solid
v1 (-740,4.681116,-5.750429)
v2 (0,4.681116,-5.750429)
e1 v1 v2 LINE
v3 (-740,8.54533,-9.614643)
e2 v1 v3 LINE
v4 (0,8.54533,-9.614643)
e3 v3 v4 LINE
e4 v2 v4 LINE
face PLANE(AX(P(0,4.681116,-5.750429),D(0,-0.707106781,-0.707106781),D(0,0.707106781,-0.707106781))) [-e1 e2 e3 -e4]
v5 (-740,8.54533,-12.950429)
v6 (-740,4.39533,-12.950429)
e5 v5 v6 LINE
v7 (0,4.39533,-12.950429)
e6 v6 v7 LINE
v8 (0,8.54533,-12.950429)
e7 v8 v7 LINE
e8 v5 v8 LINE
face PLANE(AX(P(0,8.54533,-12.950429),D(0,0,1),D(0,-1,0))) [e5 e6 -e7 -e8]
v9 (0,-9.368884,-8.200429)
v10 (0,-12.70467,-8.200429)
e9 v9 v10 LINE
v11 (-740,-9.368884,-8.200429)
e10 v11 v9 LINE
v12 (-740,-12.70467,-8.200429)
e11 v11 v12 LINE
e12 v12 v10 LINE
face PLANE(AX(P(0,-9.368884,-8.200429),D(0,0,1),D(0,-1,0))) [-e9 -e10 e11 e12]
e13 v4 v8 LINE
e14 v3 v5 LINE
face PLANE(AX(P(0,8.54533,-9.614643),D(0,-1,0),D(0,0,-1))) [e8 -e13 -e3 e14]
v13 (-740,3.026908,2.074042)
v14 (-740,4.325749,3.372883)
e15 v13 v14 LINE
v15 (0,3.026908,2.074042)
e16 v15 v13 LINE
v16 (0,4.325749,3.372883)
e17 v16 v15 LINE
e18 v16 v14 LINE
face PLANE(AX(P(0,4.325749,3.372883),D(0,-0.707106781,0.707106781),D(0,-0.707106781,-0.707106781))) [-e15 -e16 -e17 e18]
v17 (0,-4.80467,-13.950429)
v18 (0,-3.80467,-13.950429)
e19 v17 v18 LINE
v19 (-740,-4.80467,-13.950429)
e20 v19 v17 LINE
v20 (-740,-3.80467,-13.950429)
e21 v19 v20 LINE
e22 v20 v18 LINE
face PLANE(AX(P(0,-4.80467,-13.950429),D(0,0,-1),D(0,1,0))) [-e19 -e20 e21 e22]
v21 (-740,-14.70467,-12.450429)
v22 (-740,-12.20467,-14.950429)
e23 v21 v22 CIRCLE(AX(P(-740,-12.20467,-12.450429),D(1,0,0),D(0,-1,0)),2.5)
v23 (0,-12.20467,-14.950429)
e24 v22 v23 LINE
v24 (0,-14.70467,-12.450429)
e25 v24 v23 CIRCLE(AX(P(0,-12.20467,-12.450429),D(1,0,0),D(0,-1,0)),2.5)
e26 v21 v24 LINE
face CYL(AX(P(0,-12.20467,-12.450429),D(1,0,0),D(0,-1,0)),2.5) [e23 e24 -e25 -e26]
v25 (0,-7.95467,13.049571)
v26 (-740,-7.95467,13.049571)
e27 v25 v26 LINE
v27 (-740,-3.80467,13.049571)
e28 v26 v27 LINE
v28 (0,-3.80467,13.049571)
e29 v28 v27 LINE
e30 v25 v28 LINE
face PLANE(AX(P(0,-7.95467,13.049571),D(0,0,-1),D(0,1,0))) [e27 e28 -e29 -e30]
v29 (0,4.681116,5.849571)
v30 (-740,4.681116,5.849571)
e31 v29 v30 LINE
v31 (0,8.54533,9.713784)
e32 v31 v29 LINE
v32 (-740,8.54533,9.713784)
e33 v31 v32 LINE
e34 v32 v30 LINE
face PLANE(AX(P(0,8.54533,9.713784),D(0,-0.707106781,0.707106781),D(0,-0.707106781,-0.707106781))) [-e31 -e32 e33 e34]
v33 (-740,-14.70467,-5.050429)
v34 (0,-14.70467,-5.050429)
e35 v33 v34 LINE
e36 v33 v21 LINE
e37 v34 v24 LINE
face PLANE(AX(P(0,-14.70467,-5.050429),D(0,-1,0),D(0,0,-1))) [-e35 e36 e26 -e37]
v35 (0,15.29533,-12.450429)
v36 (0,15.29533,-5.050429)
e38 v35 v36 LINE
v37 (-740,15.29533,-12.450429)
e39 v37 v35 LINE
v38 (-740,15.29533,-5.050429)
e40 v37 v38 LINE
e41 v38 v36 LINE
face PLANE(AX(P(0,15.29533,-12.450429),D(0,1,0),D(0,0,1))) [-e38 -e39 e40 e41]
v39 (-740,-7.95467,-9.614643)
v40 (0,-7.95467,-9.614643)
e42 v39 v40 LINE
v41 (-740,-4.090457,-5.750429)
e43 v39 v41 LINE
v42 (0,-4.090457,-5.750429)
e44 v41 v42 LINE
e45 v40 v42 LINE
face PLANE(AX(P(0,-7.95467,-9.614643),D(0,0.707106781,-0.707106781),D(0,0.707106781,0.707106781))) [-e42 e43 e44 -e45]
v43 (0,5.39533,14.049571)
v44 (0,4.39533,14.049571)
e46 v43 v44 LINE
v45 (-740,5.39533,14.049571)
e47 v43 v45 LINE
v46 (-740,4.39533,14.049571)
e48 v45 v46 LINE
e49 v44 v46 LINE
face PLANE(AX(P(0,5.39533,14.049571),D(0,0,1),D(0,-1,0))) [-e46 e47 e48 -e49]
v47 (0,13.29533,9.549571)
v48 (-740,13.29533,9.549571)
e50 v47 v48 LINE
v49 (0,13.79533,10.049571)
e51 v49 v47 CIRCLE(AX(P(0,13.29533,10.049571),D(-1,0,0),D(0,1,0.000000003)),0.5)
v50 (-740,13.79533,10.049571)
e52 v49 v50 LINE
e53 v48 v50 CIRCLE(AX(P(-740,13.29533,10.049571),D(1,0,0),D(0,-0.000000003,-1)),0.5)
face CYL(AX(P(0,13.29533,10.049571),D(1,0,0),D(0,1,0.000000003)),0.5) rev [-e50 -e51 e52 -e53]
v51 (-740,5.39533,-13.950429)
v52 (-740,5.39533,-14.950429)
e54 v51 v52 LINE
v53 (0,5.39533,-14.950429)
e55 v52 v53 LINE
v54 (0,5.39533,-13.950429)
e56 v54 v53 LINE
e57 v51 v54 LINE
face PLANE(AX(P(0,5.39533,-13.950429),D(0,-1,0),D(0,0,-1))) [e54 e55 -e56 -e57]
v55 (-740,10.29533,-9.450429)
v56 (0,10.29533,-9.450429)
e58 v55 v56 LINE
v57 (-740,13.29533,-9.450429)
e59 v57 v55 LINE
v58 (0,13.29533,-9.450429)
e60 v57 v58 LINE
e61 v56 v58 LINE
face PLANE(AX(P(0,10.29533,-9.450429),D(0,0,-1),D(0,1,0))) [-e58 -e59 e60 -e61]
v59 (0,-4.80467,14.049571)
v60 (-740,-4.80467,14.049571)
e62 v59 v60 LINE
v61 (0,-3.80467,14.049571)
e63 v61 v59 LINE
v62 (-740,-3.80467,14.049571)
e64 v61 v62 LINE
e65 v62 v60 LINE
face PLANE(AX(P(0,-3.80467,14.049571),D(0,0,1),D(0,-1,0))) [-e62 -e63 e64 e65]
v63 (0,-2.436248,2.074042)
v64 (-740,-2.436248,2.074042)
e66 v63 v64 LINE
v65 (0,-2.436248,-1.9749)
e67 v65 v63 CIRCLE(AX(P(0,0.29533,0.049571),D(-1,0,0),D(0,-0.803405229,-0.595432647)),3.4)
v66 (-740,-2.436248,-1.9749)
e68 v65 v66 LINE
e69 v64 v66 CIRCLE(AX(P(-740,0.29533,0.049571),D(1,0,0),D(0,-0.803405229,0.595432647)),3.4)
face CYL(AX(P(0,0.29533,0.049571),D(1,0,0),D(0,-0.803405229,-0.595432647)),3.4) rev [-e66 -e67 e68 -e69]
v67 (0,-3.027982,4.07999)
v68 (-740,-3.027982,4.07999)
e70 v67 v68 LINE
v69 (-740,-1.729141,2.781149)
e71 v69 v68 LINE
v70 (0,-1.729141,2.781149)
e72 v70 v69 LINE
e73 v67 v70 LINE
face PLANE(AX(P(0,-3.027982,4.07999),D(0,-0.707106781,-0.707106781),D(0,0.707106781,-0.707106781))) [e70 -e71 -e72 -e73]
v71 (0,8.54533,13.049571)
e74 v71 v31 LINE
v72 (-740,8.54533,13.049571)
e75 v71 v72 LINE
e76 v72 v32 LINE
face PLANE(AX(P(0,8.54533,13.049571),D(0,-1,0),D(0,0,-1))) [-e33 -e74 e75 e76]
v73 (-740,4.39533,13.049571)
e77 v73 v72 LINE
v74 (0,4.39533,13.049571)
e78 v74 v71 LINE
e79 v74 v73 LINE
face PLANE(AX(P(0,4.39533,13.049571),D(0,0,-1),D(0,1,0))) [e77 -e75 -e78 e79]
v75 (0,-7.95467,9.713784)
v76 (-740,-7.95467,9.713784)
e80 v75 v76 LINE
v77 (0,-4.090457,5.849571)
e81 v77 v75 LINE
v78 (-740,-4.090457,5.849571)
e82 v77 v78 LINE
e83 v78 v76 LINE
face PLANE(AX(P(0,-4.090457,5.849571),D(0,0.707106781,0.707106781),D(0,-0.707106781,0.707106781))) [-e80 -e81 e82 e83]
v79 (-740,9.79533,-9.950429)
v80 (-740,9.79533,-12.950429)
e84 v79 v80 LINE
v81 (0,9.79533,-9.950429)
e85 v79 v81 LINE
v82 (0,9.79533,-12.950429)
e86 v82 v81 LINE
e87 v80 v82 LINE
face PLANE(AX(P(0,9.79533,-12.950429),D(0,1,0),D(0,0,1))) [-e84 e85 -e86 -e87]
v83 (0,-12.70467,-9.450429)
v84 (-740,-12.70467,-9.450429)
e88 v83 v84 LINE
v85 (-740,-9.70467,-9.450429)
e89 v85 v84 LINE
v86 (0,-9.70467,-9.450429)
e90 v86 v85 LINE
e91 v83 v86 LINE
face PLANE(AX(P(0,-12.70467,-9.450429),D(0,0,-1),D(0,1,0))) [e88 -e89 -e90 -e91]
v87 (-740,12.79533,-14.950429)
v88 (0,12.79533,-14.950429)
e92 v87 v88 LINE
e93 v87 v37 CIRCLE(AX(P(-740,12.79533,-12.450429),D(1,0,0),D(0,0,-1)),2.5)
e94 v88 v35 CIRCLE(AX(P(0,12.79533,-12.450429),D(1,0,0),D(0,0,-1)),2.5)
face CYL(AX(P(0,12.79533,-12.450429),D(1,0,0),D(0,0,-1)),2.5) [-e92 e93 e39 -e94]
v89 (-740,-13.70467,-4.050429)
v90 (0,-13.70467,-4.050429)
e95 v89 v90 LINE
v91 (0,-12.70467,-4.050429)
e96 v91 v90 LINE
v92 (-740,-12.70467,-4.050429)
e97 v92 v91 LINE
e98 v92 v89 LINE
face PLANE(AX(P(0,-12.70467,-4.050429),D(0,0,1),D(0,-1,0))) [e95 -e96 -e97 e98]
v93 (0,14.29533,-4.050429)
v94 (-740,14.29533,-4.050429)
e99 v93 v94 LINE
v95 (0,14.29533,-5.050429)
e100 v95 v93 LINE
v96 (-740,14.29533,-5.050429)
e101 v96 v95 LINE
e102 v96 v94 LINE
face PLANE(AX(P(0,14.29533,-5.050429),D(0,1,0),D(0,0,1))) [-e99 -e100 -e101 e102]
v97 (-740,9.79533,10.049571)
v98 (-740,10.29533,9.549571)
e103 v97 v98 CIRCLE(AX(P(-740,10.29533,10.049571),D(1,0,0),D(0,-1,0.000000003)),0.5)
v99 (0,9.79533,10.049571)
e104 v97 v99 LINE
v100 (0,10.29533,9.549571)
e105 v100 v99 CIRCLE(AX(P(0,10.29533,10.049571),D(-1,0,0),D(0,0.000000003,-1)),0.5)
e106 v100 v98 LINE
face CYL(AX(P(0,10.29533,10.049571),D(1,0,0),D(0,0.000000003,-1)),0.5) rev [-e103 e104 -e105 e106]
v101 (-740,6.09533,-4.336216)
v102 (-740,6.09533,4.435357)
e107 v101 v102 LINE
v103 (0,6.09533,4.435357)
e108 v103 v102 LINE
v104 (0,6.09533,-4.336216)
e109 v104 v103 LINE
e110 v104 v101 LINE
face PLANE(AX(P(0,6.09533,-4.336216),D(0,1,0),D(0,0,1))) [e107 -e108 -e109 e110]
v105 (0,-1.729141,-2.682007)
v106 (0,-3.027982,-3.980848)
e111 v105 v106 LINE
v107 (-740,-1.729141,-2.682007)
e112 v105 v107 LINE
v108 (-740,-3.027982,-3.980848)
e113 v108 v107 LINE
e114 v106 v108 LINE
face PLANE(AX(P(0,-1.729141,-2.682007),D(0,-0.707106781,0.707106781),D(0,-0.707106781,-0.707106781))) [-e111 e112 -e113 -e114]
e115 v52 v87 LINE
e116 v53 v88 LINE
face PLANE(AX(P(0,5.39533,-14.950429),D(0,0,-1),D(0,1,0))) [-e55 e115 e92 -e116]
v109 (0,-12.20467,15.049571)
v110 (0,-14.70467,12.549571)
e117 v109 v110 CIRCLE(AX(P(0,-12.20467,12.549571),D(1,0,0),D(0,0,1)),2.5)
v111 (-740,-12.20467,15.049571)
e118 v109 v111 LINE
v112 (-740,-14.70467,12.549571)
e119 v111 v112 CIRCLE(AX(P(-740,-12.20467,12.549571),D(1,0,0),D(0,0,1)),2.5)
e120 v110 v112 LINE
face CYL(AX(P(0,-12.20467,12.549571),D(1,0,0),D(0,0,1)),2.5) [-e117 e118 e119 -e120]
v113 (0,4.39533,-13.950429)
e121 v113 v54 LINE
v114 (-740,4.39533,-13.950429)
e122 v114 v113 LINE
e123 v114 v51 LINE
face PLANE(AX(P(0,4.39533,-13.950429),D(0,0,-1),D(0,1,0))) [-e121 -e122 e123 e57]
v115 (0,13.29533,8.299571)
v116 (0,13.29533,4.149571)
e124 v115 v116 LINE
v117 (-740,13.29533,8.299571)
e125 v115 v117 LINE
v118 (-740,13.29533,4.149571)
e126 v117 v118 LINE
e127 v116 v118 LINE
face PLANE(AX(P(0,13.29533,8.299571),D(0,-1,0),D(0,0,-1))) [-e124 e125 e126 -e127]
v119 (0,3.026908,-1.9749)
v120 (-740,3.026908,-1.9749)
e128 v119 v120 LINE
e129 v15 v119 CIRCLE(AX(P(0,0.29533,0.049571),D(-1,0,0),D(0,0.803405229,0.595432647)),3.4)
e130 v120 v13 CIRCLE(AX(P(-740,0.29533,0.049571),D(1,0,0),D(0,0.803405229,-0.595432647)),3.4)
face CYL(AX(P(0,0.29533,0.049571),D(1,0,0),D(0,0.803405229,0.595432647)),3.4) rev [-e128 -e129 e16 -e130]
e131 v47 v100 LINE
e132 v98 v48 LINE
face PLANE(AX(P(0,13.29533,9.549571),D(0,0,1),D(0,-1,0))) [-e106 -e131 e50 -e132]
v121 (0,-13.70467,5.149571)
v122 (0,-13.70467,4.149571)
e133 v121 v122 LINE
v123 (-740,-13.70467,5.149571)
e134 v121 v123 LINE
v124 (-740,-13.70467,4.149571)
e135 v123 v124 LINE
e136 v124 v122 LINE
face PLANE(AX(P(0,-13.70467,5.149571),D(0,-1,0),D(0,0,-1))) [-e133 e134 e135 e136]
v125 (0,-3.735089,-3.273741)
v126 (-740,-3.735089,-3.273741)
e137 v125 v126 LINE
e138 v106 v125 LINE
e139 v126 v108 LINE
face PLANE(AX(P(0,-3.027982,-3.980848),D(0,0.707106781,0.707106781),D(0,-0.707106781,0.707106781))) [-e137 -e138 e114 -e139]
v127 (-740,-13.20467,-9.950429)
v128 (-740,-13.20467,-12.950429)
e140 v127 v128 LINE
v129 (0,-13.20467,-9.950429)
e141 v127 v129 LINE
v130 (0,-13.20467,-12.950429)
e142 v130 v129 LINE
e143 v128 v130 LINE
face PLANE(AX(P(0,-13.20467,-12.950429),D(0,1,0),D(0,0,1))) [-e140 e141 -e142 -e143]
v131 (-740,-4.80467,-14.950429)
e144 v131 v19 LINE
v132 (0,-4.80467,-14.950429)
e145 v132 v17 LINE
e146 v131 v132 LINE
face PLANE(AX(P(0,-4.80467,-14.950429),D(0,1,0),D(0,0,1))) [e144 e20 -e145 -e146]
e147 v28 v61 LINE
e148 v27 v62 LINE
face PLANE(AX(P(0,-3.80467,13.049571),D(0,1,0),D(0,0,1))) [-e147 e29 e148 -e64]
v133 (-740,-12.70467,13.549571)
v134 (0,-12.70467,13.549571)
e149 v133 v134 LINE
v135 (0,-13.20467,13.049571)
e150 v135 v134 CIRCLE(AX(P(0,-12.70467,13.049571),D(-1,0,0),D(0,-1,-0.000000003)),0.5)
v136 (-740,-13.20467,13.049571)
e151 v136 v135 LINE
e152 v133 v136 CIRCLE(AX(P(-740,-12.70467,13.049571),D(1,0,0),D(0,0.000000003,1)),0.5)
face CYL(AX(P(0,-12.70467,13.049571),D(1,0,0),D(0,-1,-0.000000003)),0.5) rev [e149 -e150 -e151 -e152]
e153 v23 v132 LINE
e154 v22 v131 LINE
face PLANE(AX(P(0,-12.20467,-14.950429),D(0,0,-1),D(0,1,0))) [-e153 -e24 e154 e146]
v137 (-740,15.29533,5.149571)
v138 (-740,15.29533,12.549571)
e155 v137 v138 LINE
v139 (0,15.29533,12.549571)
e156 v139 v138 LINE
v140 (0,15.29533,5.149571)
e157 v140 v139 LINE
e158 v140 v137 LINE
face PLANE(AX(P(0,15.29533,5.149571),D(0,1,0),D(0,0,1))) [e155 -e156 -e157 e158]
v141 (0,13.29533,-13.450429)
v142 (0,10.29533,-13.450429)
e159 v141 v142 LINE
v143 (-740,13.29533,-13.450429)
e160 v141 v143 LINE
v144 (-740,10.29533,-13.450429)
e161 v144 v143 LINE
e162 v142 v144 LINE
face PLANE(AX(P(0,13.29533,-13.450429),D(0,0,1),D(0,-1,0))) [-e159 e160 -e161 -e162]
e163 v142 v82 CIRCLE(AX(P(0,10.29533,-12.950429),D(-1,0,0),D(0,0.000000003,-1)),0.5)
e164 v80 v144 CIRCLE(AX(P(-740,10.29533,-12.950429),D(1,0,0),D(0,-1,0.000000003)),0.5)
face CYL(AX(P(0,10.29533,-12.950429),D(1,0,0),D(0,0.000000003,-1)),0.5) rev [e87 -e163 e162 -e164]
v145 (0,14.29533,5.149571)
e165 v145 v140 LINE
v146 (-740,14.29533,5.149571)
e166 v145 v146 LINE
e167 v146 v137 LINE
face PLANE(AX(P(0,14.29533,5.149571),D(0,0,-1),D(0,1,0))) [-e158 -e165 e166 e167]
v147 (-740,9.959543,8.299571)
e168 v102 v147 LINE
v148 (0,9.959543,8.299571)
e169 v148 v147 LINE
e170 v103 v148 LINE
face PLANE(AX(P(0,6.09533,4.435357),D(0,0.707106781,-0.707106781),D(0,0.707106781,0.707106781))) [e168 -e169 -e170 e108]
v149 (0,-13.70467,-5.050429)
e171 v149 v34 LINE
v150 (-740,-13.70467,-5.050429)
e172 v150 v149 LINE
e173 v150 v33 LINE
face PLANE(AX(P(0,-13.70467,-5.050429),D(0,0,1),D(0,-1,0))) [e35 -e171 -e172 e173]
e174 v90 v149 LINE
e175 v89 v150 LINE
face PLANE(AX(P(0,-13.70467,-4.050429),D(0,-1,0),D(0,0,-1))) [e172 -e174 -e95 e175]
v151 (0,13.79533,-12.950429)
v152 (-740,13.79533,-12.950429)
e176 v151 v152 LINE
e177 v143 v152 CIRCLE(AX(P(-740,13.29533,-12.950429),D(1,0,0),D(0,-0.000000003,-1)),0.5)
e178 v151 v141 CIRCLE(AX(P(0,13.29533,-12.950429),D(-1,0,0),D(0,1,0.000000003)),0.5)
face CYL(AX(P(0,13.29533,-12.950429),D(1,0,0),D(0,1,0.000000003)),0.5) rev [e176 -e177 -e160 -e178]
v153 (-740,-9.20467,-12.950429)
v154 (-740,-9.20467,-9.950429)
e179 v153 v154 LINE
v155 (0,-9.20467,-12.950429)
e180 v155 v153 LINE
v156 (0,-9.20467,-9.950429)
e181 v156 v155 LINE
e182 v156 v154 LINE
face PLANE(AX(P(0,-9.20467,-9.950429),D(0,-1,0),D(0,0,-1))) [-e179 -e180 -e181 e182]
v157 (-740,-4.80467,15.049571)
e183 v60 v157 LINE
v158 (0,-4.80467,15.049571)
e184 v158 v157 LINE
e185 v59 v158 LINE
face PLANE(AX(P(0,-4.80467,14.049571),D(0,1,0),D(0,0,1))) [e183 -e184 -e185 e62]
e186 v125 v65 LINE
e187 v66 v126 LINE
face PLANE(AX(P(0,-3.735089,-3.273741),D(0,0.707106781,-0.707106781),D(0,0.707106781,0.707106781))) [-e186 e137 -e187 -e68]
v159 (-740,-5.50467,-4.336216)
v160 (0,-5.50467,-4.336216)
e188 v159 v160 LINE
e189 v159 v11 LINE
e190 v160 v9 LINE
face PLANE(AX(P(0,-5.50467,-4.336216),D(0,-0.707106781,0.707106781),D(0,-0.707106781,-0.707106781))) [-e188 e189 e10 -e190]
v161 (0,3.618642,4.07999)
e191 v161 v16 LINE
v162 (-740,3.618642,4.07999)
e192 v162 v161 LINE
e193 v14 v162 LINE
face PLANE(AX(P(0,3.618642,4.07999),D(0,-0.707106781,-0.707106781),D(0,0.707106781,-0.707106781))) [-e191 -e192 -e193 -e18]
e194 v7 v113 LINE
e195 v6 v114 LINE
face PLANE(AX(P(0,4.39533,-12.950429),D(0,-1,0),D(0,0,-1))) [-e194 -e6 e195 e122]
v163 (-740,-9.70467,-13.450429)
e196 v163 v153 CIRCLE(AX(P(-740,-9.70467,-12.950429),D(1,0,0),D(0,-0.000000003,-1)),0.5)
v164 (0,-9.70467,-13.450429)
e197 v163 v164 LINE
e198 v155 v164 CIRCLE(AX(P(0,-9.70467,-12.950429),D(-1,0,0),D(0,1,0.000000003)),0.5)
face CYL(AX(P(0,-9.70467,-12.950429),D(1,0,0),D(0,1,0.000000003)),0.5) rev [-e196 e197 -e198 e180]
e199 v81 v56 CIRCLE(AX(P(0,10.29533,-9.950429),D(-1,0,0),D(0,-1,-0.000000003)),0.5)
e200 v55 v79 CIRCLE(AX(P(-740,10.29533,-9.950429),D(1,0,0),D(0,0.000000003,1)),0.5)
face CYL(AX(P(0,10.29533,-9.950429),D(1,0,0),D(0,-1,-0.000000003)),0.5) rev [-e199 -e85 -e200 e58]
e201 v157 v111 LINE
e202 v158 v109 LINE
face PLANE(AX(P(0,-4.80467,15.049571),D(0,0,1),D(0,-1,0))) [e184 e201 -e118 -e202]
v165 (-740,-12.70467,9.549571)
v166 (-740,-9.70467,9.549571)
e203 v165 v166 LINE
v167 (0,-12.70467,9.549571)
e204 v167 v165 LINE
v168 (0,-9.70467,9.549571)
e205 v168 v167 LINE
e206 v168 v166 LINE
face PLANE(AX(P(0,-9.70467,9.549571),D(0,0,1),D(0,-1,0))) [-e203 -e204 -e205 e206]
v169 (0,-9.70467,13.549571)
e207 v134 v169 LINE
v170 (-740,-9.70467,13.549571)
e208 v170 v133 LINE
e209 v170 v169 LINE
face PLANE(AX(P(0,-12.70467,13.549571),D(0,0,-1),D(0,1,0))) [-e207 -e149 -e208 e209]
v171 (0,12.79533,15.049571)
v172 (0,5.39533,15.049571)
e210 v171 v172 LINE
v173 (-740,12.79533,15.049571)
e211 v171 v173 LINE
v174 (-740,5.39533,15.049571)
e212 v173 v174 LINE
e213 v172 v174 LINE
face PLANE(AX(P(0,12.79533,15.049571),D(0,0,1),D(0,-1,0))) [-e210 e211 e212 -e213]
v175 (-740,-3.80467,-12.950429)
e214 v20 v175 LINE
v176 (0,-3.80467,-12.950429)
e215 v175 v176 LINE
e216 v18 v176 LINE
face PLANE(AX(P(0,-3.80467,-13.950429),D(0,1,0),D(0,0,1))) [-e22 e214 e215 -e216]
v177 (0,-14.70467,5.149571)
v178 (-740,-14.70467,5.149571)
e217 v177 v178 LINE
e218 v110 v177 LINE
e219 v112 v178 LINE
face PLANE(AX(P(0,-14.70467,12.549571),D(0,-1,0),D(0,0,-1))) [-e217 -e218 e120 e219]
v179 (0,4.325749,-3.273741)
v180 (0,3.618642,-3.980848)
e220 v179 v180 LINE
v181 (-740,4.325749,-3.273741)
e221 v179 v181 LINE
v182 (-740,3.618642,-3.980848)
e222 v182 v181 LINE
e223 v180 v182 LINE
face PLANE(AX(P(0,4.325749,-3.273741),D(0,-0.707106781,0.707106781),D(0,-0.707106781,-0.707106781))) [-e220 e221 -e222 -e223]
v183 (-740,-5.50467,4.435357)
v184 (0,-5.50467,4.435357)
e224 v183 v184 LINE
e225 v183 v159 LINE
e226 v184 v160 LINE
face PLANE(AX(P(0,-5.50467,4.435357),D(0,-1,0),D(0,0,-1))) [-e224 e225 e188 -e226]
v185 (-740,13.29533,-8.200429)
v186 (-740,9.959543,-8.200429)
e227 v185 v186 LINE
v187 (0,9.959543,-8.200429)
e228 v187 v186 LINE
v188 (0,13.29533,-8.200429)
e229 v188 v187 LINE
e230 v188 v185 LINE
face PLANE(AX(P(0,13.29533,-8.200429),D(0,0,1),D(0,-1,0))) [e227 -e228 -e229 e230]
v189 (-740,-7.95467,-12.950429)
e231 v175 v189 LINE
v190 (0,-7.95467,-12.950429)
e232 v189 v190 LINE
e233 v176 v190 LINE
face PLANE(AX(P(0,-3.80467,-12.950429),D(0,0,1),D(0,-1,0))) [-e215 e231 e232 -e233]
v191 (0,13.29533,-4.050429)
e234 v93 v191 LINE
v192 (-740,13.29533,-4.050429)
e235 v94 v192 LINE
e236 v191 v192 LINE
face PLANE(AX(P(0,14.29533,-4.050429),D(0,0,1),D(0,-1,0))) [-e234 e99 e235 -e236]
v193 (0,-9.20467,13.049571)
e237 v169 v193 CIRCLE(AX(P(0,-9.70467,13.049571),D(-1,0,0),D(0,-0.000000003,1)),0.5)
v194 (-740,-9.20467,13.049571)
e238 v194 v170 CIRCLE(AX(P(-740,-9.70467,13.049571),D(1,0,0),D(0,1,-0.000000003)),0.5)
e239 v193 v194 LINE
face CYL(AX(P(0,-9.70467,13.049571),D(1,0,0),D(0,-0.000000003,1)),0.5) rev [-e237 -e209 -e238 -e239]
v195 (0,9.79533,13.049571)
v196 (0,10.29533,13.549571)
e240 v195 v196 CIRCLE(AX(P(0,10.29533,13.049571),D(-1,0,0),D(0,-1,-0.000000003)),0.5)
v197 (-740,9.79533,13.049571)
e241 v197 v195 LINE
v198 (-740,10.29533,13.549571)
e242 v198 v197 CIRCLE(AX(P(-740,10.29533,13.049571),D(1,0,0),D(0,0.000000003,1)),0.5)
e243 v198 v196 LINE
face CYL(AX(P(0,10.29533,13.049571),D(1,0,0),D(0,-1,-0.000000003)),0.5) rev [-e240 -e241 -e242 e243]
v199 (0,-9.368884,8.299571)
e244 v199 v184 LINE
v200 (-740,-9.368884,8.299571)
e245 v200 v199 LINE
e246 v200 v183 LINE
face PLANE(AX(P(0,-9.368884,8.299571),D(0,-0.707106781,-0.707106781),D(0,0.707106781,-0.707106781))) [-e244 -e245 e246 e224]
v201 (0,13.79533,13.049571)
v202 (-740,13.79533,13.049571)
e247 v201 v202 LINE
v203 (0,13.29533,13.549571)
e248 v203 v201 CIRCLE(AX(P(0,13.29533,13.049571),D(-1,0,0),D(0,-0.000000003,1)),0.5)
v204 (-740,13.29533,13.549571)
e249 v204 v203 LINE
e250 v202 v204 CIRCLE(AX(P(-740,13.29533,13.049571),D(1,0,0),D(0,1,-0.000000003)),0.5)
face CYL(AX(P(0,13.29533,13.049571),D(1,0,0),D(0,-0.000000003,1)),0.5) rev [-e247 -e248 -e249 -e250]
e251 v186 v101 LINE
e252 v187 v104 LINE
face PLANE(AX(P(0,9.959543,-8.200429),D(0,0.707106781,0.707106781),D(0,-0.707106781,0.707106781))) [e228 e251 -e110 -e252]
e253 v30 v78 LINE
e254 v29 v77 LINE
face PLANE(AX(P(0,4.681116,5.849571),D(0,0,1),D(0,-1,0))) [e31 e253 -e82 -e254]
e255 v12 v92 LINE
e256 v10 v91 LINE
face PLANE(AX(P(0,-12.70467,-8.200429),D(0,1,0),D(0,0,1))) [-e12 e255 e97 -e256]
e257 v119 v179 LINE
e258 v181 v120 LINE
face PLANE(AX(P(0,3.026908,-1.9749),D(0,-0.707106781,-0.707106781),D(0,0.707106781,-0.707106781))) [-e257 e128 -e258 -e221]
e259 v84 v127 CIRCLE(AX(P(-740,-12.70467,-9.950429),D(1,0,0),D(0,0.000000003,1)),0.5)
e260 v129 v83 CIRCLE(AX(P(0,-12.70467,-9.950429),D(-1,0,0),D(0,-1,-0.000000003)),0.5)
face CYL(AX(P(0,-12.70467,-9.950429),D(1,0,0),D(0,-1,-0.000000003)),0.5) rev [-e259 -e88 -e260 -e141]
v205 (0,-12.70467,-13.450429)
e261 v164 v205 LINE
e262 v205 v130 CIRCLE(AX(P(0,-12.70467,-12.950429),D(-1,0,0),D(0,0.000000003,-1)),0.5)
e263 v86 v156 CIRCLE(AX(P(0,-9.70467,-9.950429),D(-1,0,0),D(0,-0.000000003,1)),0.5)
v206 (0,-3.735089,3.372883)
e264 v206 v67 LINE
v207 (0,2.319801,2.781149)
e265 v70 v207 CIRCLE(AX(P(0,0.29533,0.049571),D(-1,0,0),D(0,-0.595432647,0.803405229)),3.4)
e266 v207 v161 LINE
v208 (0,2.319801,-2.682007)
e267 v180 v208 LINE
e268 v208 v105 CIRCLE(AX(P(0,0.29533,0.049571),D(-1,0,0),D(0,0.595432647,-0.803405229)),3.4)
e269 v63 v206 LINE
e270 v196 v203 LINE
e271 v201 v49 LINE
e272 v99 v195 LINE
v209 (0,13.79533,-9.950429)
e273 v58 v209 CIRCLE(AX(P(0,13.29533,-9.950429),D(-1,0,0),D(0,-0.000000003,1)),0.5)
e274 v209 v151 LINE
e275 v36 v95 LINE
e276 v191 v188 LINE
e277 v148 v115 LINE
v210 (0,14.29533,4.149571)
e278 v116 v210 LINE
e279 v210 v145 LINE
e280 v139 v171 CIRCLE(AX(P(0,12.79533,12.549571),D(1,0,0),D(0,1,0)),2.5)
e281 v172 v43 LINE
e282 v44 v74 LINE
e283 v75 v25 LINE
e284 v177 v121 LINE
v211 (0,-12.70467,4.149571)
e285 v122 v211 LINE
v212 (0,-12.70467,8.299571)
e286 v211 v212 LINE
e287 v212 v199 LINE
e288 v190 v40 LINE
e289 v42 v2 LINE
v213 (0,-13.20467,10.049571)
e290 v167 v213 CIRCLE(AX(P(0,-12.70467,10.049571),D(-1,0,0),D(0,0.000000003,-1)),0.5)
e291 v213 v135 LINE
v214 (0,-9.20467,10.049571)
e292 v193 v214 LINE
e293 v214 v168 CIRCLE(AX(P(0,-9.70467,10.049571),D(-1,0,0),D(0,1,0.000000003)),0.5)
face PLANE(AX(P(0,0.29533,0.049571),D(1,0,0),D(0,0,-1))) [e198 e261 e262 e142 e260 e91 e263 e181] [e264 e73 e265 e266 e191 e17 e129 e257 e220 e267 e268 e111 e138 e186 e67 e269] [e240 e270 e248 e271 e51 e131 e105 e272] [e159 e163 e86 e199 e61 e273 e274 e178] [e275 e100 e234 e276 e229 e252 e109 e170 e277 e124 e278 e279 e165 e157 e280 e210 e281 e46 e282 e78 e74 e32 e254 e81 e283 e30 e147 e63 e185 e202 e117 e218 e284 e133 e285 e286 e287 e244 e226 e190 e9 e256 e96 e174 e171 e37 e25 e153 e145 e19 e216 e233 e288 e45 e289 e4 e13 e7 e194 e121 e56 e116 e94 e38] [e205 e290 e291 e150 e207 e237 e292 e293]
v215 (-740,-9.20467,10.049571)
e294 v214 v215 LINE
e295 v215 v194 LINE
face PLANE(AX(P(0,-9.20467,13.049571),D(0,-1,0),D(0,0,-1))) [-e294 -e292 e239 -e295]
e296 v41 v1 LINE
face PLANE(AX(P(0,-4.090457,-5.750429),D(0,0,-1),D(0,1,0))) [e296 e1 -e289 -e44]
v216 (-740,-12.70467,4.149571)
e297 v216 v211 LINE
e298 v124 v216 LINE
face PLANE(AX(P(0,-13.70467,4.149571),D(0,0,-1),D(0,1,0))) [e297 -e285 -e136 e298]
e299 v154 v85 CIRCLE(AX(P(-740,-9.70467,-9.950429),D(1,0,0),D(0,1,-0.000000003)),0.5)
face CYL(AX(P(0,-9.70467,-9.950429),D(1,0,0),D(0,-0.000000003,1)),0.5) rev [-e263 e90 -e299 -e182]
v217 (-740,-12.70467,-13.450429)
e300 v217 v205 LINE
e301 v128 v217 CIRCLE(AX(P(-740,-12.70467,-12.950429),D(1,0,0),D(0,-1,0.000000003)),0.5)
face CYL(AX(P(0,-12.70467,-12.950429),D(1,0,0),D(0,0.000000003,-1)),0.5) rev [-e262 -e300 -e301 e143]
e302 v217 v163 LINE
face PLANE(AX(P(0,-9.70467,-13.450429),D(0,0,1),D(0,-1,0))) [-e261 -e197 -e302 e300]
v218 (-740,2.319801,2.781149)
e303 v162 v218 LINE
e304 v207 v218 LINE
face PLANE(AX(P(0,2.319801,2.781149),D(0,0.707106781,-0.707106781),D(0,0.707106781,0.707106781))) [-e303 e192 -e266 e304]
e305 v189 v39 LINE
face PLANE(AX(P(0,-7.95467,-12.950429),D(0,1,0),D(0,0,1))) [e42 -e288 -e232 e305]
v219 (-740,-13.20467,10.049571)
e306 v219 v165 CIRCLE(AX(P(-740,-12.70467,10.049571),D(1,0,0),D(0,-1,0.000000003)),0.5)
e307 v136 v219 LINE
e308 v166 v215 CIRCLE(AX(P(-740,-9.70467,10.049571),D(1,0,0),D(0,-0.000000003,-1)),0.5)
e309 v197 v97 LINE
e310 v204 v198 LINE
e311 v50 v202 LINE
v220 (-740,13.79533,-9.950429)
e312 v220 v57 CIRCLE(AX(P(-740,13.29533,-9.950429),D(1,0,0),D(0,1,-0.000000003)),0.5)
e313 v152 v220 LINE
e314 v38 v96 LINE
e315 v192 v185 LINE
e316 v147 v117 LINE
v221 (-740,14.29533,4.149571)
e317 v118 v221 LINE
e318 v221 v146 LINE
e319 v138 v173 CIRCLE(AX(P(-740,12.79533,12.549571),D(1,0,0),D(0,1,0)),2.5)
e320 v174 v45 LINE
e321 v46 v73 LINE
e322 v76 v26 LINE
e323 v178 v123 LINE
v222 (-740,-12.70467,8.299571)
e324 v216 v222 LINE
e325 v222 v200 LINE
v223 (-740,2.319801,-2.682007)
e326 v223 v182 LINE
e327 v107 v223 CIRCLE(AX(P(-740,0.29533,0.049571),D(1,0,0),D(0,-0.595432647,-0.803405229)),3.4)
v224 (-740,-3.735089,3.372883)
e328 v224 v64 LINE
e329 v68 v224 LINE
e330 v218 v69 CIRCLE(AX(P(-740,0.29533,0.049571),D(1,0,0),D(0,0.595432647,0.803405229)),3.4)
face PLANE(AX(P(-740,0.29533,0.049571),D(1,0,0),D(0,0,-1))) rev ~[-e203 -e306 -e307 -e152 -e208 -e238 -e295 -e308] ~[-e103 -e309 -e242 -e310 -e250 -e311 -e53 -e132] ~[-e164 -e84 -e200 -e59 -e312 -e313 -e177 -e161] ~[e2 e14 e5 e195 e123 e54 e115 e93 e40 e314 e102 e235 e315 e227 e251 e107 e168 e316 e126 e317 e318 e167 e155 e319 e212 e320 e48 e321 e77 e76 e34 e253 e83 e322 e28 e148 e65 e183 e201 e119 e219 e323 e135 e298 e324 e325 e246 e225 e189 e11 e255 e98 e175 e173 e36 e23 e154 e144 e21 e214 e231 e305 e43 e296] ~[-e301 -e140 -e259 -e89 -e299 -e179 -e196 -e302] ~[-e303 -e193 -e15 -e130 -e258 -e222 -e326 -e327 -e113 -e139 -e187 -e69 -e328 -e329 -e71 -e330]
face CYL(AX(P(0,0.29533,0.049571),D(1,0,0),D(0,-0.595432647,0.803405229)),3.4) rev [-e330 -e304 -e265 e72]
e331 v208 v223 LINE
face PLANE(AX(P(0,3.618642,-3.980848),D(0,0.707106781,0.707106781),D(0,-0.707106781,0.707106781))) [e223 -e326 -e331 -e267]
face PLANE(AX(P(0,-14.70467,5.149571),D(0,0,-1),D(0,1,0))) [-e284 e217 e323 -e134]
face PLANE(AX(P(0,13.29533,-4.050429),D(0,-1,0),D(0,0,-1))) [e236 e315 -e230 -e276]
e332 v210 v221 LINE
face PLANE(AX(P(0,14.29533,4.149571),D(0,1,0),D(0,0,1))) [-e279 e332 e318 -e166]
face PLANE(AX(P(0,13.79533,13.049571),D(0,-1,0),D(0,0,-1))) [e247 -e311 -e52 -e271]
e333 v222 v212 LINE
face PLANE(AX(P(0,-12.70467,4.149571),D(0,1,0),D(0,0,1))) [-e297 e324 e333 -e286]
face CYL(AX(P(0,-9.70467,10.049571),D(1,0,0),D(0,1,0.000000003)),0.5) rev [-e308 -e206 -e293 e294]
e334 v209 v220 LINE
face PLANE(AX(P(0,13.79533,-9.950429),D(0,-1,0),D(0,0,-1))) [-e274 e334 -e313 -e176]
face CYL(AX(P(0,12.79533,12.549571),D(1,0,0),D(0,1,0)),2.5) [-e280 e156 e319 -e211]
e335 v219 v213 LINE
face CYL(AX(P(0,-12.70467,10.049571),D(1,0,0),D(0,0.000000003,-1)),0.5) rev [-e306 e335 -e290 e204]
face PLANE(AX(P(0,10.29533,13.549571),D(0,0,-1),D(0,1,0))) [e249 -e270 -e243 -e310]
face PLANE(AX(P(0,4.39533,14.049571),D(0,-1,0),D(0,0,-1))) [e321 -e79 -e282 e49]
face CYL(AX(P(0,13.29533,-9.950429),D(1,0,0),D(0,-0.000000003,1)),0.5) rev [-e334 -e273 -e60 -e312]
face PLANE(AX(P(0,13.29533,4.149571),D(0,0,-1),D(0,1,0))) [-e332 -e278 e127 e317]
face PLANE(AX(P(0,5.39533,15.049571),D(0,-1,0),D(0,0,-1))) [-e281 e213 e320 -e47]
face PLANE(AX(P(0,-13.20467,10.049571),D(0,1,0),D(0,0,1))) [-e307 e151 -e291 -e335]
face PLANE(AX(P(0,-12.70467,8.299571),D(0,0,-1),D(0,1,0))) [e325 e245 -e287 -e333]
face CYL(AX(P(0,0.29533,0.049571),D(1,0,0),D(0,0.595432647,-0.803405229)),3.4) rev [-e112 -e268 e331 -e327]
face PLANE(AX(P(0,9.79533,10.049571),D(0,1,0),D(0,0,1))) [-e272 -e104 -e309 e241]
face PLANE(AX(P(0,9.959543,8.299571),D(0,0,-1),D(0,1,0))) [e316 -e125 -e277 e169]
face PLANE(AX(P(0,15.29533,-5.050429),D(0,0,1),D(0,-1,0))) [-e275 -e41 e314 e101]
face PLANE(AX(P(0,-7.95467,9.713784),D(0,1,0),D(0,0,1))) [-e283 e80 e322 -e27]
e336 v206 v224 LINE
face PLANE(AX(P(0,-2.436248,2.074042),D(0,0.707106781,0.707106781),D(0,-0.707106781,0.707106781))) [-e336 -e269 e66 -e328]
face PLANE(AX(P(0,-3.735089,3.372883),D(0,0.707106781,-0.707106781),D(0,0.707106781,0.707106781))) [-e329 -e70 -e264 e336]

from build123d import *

# Parameters (mm, degrees)
EXTRUDE_1_DEPTH = 50
EXTRUDE_2_DEPTH = 740


with BuildPart() as part:
    # 草图1 → 凸台-拉伸1 (new body)
    with BuildSketch(Plane(origin=(0, 0, 0), x_dir=(0, 0, -1), z_dir=(1, 0, 0))):
        with BuildLine():
            Line((-5.14957074, -13.70467014), (-4.14957074, -13.70467014))
            Line((-4.14957074, -13.70467014), (-4.14957074, -12.70467014))
            Line((-4.14957074, -12.70467014), (-8.29957074, -12.70467014))
            Line((-8.29957074, -12.70467014), (-8.29957074, -9.3688837))
            Line((-8.29957074, -9.3688837), (-4.43535718, -5.50467014))
            Line((-4.43535718, -5.50467014), (4.3362157, -5.50467014))
            Line((4.3362157, -5.50467014), (8.20042926, -9.3688837))
            Line((8.20042926, -9.3688837), (8.20042926, -12.70467014))
            Line((8.20042926, -12.70467014), (4.05042926, -12.70467014))
            Line((4.05042926, -12.70467014), (4.05042926, -13.70467014))
            Line((4.05042926, -13.70467014), (5.05042926, -13.70467014))
            Line((5.05042926, -13.70467014), (5.05042926, -14.70467014))
            Line((5.05042926, -14.70467014), (12.45042926, -14.70467014))
            ThreePointArc((12.45042926, -14.70467014), (14.218196213, -13.972437093), (14.95042926, -12.20467014))
            Line((14.95042926, -12.20467014), (14.95042926, -4.80467014))
            Line((14.95042926, -4.80467014), (13.95042926, -4.80467014))
            Line((13.95042926, -4.80467014), (13.95042926, -3.80467014))
            Line((13.95042926, -3.80467014), (12.95042926, -3.80467014))
            Line((12.95042926, -3.80467014), (12.95042926, -7.95467014))
            Line((12.95042926, -7.95467014), (9.61464282, -7.95467014))
            Line((9.61464282, -7.95467014), (5.75042926, -4.09045658))
            Line((5.75042926, -4.09045658), (5.75042926, 4.6811163))
            Line((5.75042926, 4.6811163), (9.61464282, 8.54532986))
            Line((9.61464282, 8.54532986), (12.95042926, 8.54532986))
            Line((12.95042926, 8.54532986), (12.95042926, 4.39532986))
            Line((12.95042926, 4.39532986), (13.95042926, 4.39532986))
            Line((13.95042926, 4.39532986), (13.95042926, 5.39532986))
            Line((13.95042926, 5.39532986), (14.95042926, 5.39532986))
            Line((14.95042926, 5.39532986), (14.95042926, 12.79532986))
            ThreePointArc((14.95042926, 12.79532986), (14.218196213, 14.563096813), (12.45042926, 15.29532986))
            Line((12.45042926, 15.29532986), (5.05042926, 15.29532986))
            Line((5.05042926, 15.29532986), (5.05042926, 14.29532986))
            Line((5.05042926, 14.29532986), (4.05042926, 14.29532986))
            Line((4.05042926, 14.29532986), (4.05042926, 13.29532986))
            Line((4.05042926, 13.29532986), (8.20042926, 13.29532986))
            Line((8.20042926, 13.29532986), (8.20042926, 9.95954342))
            Line((8.20042926, 9.95954342), (4.3362157, 6.09532986))
            Line((4.3362157, 6.09532986), (-4.43535718, 6.09532986))
            Line((-4.43535718, 6.09532986), (-8.29957074, 9.95954342))
            Line((-8.29957074, 9.95954342), (-8.29957074, 13.29532986))
            Line((-8.29957074, 13.29532986), (-4.14957074, 13.29532986))
            Line((-4.14957074, 13.29532986), (-4.14957074, 14.29532986))
            Line((-4.14957074, 14.29532986), (-5.14957074, 14.29532986))
            Line((-5.14957074, 14.29532986), (-5.14957074, 15.29532986))
            Line((-5.14957074, 15.29532986), (-12.54957074, 15.29532986))
            ThreePointArc((-12.54957074, 15.29532986), (-14.317337693, 14.563096813), (-15.04957074, 12.79532986))
            Line((-15.04957074, 12.79532986), (-15.04957074, 5.39532986))
            Line((-15.04957074, 5.39532986), (-14.04957074, 5.39532986))
            Line((-14.04957074, 5.39532986), (-14.04957074, 4.39532986))
            Line((-14.04957074, 4.39532986), (-13.04957074, 4.39532986))
            Line((-13.04957074, 4.39532986), (-13.04957074, 8.54532986))
            Line((-13.04957074, 8.54532986), (-9.7137843, 8.54532986))
            Line((-9.7137843, 8.54532986), (-5.84957074, 4.6811163))
            Line((-5.84957074, 4.6811163), (-5.84957074, -4.09045658))
            Line((-5.84957074, -4.09045658), (-9.7137843, -7.95467014))
            Line((-9.7137843, -7.95467014), (-13.04957074, -7.95467014))
            Line((-13.04957074, -7.95467014), (-13.04957074, -3.80467014))
            Line((-13.04957074, -3.80467014), (-14.04957074, -3.80467014))
            Line((-14.04957074, -3.80467014), (-14.04957074, -4.80467014))
            Line((-14.04957074, -4.80467014), (-15.04957074, -4.80467014))
            Line((-15.04957074, -4.80467014), (-15.04957074, -12.20467014))
            ThreePointArc((-15.04957074, -12.20467014), (-14.317337693, -13.972437093), (-12.54957074, -14.70467014))
            Line((-12.54957074, -14.70467014), (-5.14957074, -14.70467014))
            Line((-5.14957074, -14.70467014), (-5.14957074, -13.70467014))
        make_face()
        with BuildLine():
            Line((-10.04957074, 9.79532986), (-13.04957074, 9.79532986))
            ThreePointArc((-13.04957074, 9.79532986), (-13.403124131, 9.941776469), (-13.54957074, 10.29532986))
            Line((-13.54957074, 10.29532986), (-13.54957074, 13.29532986))
            ThreePointArc((-13.54957074, 13.29532986), (-13.403124131, 13.648883251), (-13.04957074, 13.79532986))
            Line((-13.04957074, 13.79532986), (-10.04957074, 13.79532986))
            ThreePointArc((-10.04957074, 13.79532986), (-9.696017349, 13.648883251), (-9.54957074, 13.29532986))
            Line((-9.54957074, 13.29532986), (-9.54957074, 10.29532986))
            ThreePointArc((-9.54957074, 10.29532986), (-9.696017349, 9.941776469), (-10.04957074, 9.79532986))
        make_face(mode=Mode.SUBTRACT)
        with BuildLine():
            Line((-10.04957074, -13.20467014), (-13.04957074, -13.20467014))
            ThreePointArc((-13.04957074, -13.20467014), (-13.403124131, -13.058223531), (-13.54957074, -12.70467014))
            Line((-13.54957074, -12.70467014), (-13.54957074, -9.70467014))
            ThreePointArc((-13.54957074, -9.70467014), (-13.403124131, -9.351116749), (-13.04957074, -9.20467014))
            Line((-13.04957074, -9.20467014), (-10.04957074, -9.20467014))
            ThreePointArc((-10.04957074, -9.20467014), (-9.696017349, -9.351116749), (-9.54957074, -9.70467014))
            Line((-9.54957074, -9.70467014), (-9.54957074, -12.70467014))
            ThreePointArc((-9.54957074, -12.70467014), (-9.696017349, -13.058223531), (-10.04957074, -13.20467014))
        make_face(mode=Mode.SUBTRACT)
        with BuildLine():
            Line((12.95042926, 9.79532986), (9.95042926, 9.79532986))
            ThreePointArc((9.95042926, 9.79532986), (9.596875869, 9.941776469), (9.45042926, 10.29532986))
            Line((9.45042926, 10.29532986), (9.45042926, 13.29532986))
            ThreePointArc((9.45042926, 13.29532986), (9.596875869, 13.648883251), (9.95042926, 13.79532986))
            Line((9.95042926, 13.79532986), (12.95042926, 13.79532986))
            ThreePointArc((12.95042926, 13.79532986), (13.303982651, 13.648883251), (13.45042926, 13.29532986))
            Line((13.45042926, 13.29532986), (13.45042926, 10.29532986))
            ThreePointArc((13.45042926, 10.29532986), (13.303982651, 9.941776469), (12.95042926, 9.79532986))
        make_face(mode=Mode.SUBTRACT)
        with BuildLine():
            Line((13.45042926, -9.70467014), (13.45042926, -12.70467014))
            ThreePointArc((13.45042926, -12.70467014), (13.303982651, -13.058223531), (12.95042926, -13.20467014))
            Line((12.95042926, -13.20467014), (9.95042926, -13.20467014))
            ThreePointArc((9.95042926, -13.20467014), (9.596875869, -13.058223531), (9.45042926, -12.70467014))
            Line((9.45042926, -12.70467014), (9.45042926, -9.70467014))
            ThreePointArc((9.45042926, -9.70467014), (9.596875869, -9.351116749), (9.95042926, -9.20467014))
            Line((9.95042926, -9.20467014), (12.95042926, -9.20467014))
            ThreePointArc((12.95042926, -9.20467014), (13.303982651, -9.351116749), (13.45042926, -9.70467014))
        make_face(mode=Mode.SUBTRACT)
        with BuildLine():
            Line((-4.07998961, 3.61864195), (-3.37288283, 4.32574873))
            Line((-3.37288283, 4.32574873), (-2.07404174, 3.02690764))
            ThreePointArc((-2.07404174, 3.02690764), (-0.04957074, 3.69532986), (1.97490026, 3.02690764))
            Line((1.97490026, 3.02690764), (3.27374135, 4.32574873))
            Line((3.27374135, 4.32574873), (3.98084813, 3.61864195))
            Line((3.98084813, 3.61864195), (2.68200704, 2.31980086))
            ThreePointArc((2.68200704, 2.31980086), (3.35042926, 0.29532986), (2.68200704, -1.72914114))
            Line((2.68200704, -1.72914114), (3.98084813, -3.02798223))
            Line((3.98084813, -3.02798223), (3.27374135, -3.73508901))
            Line((3.27374135, -3.73508901), (1.97490026, -2.43624792))
            ThreePointArc((1.97490026, -2.43624792), (-0.04957074, -3.10467014), (-2.07404174, -2.43624792))
            Line((-2.07404174, -2.43624792), (-3.37288283, -3.73508901))
            Line((-3.37288283, -3.73508901), (-4.07998961, -3.02798223))
            Line((-4.07998961, -3.02798223), (-2.78114852, -1.72914114))
            ThreePointArc((-2.78114852, -1.72914114), (-3.44957074, 0.29532986), (-2.78114852, 2.31980086))
            Line((-2.78114852, 2.31980086), (-4.07998961, 3.61864195))
        make_face(mode=Mode.SUBTRACT)
    extrude(amount=-EXTRUDE_1_DEPTH)

    # 草图2 → 凸台-拉伸2 (add)
    with BuildSketch(Plane(origin=(0, 0, 0), x_dir=(0, 0, -1), z_dir=(1, 0, 0))):
        with BuildLine():
            Line((-15.04957074, -4.80467014), (-15.04957074, -12.20467014))
            ThreePointArc((-15.04957074, -12.20467014), (-14.317337693, -13.972437093), (-12.54957074, -14.70467014))
            Line((-12.54957074, -14.70467014), (-5.14957074, -14.70467014))
            Line((-5.14957074, -14.70467014), (-5.14957074, -13.70467014))
            Line((-5.14957074, -13.70467014), (-4.14957074, -13.70467014))
            Line((-4.14957074, -13.70467014), (-4.14957074, -12.70467014))
            Line((-4.14957074, -12.70467014), (-8.29957074, -12.70467014))
            Line((-8.29957074, -12.70467014), (-8.29957074, -9.3688837))
            Line((-8.29957074, -9.3688837), (-4.43535718, -5.50467014))
            Line((-4.43535718, -5.50467014), (4.3362157, -5.50467014))
            Line((4.3362157, -5.50467014), (8.20042926, -9.3688837))
            Line((8.20042926, -9.3688837), (8.20042926, -12.70467014))
            Line((8.20042926, -12.70467014), (4.05042926, -12.70467014))
            Line((4.05042926, -12.70467014), (4.05042926, -13.70467014))
            Line((4.05042926, -13.70467014), (5.05042926, -13.70467014))
            Line((5.05042926, -13.70467014), (5.05042926, -14.70467014))
            Line((5.05042926, -14.70467014), (12.45042926, -14.70467014))
            ThreePointArc((12.45042926, -14.70467014), (14.218196213, -13.972437093), (14.95042926, -12.20467014))
            Line((14.95042926, -12.20467014), (14.95042926, -4.80467014))
            Line((14.95042926, -4.80467014), (13.95042926, -4.80467014))
            Line((13.95042926, -4.80467014), (13.95042926, -3.80467014))
            Line((13.95042926, -3.80467014), (12.95042926, -3.80467014))
            Line((12.95042926, -3.80467014), (12.95042926, -7.95467014))
            Line((12.95042926, -7.95467014), (9.61464282, -7.95467014))
            Line((9.61464282, -7.95467014), (5.75042926, -4.09045658))
            Line((5.75042926, -4.09045658), (5.75042926, 4.6811163))
            Line((5.75042926, 4.6811163), (9.61464282, 8.54532986))
            Line((9.61464282, 8.54532986), (12.95042926, 8.54532986))
            Line((12.95042926, 8.54532986), (12.95042926, 4.39532986))
            Line((12.95042926, 4.39532986), (13.95042926, 4.39532986))
            Line((13.95042926, 4.39532986), (13.95042926, 5.39532986))
            Line((13.95042926, 5.39532986), (14.95042926, 5.39532986))
            Line((14.95042926, 5.39532986), (14.95042926, 12.79532986))
            ThreePointArc((14.95042926, 12.79532986), (14.218196213, 14.563096813), (12.45042926, 15.29532986))
            Line((12.45042926, 15.29532986), (5.05042926, 15.29532986))
            Line((5.05042926, 15.29532986), (5.05042926, 14.29532986))
            Line((5.05042926, 14.29532986), (4.05042926, 14.29532986))
            Line((4.05042926, 14.29532986), (4.05042926, 13.29532986))
            Line((4.05042926, 13.29532986), (8.20042926, 13.29532986))
            Line((8.20042926, 13.29532986), (8.20042926, 9.95954342))
            Line((8.20042926, 9.95954342), (4.3362157, 6.09532986))
            Line((4.3362157, 6.09532986), (-4.43535718, 6.09532986))
            Line((-4.43535718, 6.09532986), (-8.29957074, 9.95954342))
            Line((-8.29957074, 9.95954342), (-8.29957074, 13.29532986))
            Line((-8.29957074, 13.29532986), (-4.14957074, 13.29532986))
            Line((-4.14957074, 13.29532986), (-4.14957074, 14.29532986))
            Line((-4.14957074, 14.29532986), (-5.14957074, 14.29532986))
            Line((-5.14957074, 14.29532986), (-5.14957074, 15.29532986))
            Line((-5.14957074, 15.29532986), (-12.54957074, 15.29532986))
            ThreePointArc((-12.54957074, 15.29532986), (-14.317337693, 14.563096813), (-15.04957074, 12.79532986))
            Line((-15.04957074, 12.79532986), (-15.04957074, 5.39532986))
            Line((-15.04957074, 5.39532986), (-14.04957074, 5.39532986))
            Line((-14.04957074, 5.39532986), (-14.04957074, 4.39532986))
            Line((-14.04957074, 4.39532986), (-13.04957074, 4.39532986))
            Line((-13.04957074, 4.39532986), (-13.04957074, 8.54532986))
            Line((-13.04957074, 8.54532986), (-9.7137843, 8.54532986))
            Line((-9.7137843, 8.54532986), (-5.84957074, 4.6811163))
            Line((-5.84957074, 4.6811163), (-5.84957074, -4.09045658))
            Line((-5.84957074, -4.09045658), (-9.7137843, -7.95467014))
            Line((-9.7137843, -7.95467014), (-13.04957074, -7.95467014))
            Line((-13.04957074, -7.95467014), (-13.04957074, -3.80467014))
            Line((-13.04957074, -3.80467014), (-14.04957074, -3.80467014))
            Line((-14.04957074, -3.80467014), (-14.04957074, -4.80467014))
            Line((-14.04957074, -4.80467014), (-15.04957074, -4.80467014))
        make_face()
        with BuildLine():
            Line((-13.04957074, 9.79532986), (-10.04957074, 9.79532986))
            ThreePointArc((-10.04957074, 9.79532986), (-9.696017349, 9.941776469), (-9.54957074, 10.29532986))
            Line((-9.54957074, 10.29532986), (-9.54957074, 13.29532986))
            ThreePointArc((-9.54957074, 13.29532986), (-9.696017349, 13.648883251), (-10.04957074, 13.79532986))
            Line((-10.04957074, 13.79532986), (-13.04957074, 13.79532986))
            ThreePointArc((-13.04957074, 13.79532986), (-13.403124131, 13.648883251), (-13.54957074, 13.29532986))
            Line((-13.54957074, 13.29532986), (-13.54957074, 10.29532986))
            ThreePointArc((-13.54957074, 10.29532986), (-13.403124131, 9.941776469), (-13.04957074, 9.79532986))
        make_face(mode=Mode.SUBTRACT)
        with BuildLine():
            Line((-13.04957074, -13.20467014), (-10.04957074, -13.20467014))
            ThreePointArc((-10.04957074, -13.20467014), (-9.696017349, -13.058223531), (-9.54957074, -12.70467014))
            Line((-9.54957074, -12.70467014), (-9.54957074, -9.70467014))
            ThreePointArc((-9.54957074, -9.70467014), (-9.696017349, -9.351116749), (-10.04957074, -9.20467014))
            Line((-10.04957074, -9.20467014), (-13.04957074, -9.20467014))
            ThreePointArc((-13.04957074, -9.20467014), (-13.403124131, -9.351116749), (-13.54957074, -9.70467014))
            Line((-13.54957074, -9.70467014), (-13.54957074, -12.70467014))
            ThreePointArc((-13.54957074, -12.70467014), (-13.403124131, -13.058223531), (-13.04957074, -13.20467014))
        make_face(mode=Mode.SUBTRACT)
        with BuildLine():
            Line((9.45042926, 13.29532986), (9.45042926, 10.29532986))
            ThreePointArc((9.45042926, 10.29532986), (9.596875869, 9.941776469), (9.95042926, 9.79532986))
            Line((9.95042926, 9.79532986), (12.95042926, 9.79532986))
            ThreePointArc((12.95042926, 9.79532986), (13.303982651, 9.941776469), (13.45042926, 10.29532986))
            Line((13.45042926, 10.29532986), (13.45042926, 13.29532986))
            ThreePointArc((13.45042926, 13.29532986), (13.303982651, 13.648883251), (12.95042926, 13.79532986))
            Line((12.95042926, 13.79532986), (9.95042926, 13.79532986))
            ThreePointArc((9.95042926, 13.79532986), (9.596875869, 13.648883251), (9.45042926, 13.29532986))
        make_face(mode=Mode.SUBTRACT)
        with BuildLine():
            Line((9.45042926, -9.70467014), (9.45042926, -12.70467014))
            ThreePointArc((9.45042926, -12.70467014), (9.596875869, -13.058223531), (9.95042926, -13.20467014))
            Line((9.95042926, -13.20467014), (12.95042926, -13.20467014))
            ThreePointArc((12.95042926, -13.20467014), (13.303982651, -13.058223531), (13.45042926, -12.70467014))
            Line((13.45042926, -12.70467014), (13.45042926, -9.70467014))
            ThreePointArc((13.45042926, -9.70467014), (13.303982651, -9.351116749), (12.95042926, -9.20467014))
            Line((12.95042926, -9.20467014), (9.95042926, -9.20467014))
            ThreePointArc((9.95042926, -9.20467014), (9.596875869, -9.351116749), (9.45042926, -9.70467014))
        make_face(mode=Mode.SUBTRACT)
        with BuildLine():
            Line((-3.37288283, -3.73508901), (-2.07404174, -2.43624792))
            ThreePointArc((-2.07404174, -2.43624792), (-0.04957074, -3.10467014), (1.97490026, -2.43624792))
            Line((1.97490026, -2.43624792), (3.27374135, -3.73508901))
            Line((3.27374135, -3.73508901), (3.98084813, -3.02798223))
            Line((3.98084813, -3.02798223), (2.68200704, -1.72914114))
            ThreePointArc((2.68200704, -1.72914114), (3.35042926, 0.29532986), (2.68200704, 2.31980086))
            Line((2.68200704, 2.31980086), (3.98084813, 3.61864195))
            Line((3.98084813, 3.61864195), (3.27374135, 4.32574873))
            Line((3.27374135, 4.32574873), (1.97490026, 3.02690764))
            ThreePointArc((1.97490026, 3.02690764), (-0.04957074, 3.69532986), (-2.07404174, 3.02690764))
            Line((-2.07404174, 3.02690764), (-3.37288283, 4.32574873))
            Line((-3.37288283, 4.32574873), (-4.07998961, 3.61864195))
            Line((-4.07998961, 3.61864195), (-2.78114852, 2.31980086))
            ThreePointArc((-2.78114852, 2.31980086), (-3.44957074, 0.29532986), (-2.78114852, -1.72914114))
            Line((-2.78114852, -1.72914114), (-4.07998961, -3.02798223))
            Line((-4.07998961, -3.02798223), (-3.37288283, -3.73508901))
        make_face(mode=Mode.SUBTRACT)
    extrude(amount=-EXTRUDE_2_DEPTH)


solid = part.part
